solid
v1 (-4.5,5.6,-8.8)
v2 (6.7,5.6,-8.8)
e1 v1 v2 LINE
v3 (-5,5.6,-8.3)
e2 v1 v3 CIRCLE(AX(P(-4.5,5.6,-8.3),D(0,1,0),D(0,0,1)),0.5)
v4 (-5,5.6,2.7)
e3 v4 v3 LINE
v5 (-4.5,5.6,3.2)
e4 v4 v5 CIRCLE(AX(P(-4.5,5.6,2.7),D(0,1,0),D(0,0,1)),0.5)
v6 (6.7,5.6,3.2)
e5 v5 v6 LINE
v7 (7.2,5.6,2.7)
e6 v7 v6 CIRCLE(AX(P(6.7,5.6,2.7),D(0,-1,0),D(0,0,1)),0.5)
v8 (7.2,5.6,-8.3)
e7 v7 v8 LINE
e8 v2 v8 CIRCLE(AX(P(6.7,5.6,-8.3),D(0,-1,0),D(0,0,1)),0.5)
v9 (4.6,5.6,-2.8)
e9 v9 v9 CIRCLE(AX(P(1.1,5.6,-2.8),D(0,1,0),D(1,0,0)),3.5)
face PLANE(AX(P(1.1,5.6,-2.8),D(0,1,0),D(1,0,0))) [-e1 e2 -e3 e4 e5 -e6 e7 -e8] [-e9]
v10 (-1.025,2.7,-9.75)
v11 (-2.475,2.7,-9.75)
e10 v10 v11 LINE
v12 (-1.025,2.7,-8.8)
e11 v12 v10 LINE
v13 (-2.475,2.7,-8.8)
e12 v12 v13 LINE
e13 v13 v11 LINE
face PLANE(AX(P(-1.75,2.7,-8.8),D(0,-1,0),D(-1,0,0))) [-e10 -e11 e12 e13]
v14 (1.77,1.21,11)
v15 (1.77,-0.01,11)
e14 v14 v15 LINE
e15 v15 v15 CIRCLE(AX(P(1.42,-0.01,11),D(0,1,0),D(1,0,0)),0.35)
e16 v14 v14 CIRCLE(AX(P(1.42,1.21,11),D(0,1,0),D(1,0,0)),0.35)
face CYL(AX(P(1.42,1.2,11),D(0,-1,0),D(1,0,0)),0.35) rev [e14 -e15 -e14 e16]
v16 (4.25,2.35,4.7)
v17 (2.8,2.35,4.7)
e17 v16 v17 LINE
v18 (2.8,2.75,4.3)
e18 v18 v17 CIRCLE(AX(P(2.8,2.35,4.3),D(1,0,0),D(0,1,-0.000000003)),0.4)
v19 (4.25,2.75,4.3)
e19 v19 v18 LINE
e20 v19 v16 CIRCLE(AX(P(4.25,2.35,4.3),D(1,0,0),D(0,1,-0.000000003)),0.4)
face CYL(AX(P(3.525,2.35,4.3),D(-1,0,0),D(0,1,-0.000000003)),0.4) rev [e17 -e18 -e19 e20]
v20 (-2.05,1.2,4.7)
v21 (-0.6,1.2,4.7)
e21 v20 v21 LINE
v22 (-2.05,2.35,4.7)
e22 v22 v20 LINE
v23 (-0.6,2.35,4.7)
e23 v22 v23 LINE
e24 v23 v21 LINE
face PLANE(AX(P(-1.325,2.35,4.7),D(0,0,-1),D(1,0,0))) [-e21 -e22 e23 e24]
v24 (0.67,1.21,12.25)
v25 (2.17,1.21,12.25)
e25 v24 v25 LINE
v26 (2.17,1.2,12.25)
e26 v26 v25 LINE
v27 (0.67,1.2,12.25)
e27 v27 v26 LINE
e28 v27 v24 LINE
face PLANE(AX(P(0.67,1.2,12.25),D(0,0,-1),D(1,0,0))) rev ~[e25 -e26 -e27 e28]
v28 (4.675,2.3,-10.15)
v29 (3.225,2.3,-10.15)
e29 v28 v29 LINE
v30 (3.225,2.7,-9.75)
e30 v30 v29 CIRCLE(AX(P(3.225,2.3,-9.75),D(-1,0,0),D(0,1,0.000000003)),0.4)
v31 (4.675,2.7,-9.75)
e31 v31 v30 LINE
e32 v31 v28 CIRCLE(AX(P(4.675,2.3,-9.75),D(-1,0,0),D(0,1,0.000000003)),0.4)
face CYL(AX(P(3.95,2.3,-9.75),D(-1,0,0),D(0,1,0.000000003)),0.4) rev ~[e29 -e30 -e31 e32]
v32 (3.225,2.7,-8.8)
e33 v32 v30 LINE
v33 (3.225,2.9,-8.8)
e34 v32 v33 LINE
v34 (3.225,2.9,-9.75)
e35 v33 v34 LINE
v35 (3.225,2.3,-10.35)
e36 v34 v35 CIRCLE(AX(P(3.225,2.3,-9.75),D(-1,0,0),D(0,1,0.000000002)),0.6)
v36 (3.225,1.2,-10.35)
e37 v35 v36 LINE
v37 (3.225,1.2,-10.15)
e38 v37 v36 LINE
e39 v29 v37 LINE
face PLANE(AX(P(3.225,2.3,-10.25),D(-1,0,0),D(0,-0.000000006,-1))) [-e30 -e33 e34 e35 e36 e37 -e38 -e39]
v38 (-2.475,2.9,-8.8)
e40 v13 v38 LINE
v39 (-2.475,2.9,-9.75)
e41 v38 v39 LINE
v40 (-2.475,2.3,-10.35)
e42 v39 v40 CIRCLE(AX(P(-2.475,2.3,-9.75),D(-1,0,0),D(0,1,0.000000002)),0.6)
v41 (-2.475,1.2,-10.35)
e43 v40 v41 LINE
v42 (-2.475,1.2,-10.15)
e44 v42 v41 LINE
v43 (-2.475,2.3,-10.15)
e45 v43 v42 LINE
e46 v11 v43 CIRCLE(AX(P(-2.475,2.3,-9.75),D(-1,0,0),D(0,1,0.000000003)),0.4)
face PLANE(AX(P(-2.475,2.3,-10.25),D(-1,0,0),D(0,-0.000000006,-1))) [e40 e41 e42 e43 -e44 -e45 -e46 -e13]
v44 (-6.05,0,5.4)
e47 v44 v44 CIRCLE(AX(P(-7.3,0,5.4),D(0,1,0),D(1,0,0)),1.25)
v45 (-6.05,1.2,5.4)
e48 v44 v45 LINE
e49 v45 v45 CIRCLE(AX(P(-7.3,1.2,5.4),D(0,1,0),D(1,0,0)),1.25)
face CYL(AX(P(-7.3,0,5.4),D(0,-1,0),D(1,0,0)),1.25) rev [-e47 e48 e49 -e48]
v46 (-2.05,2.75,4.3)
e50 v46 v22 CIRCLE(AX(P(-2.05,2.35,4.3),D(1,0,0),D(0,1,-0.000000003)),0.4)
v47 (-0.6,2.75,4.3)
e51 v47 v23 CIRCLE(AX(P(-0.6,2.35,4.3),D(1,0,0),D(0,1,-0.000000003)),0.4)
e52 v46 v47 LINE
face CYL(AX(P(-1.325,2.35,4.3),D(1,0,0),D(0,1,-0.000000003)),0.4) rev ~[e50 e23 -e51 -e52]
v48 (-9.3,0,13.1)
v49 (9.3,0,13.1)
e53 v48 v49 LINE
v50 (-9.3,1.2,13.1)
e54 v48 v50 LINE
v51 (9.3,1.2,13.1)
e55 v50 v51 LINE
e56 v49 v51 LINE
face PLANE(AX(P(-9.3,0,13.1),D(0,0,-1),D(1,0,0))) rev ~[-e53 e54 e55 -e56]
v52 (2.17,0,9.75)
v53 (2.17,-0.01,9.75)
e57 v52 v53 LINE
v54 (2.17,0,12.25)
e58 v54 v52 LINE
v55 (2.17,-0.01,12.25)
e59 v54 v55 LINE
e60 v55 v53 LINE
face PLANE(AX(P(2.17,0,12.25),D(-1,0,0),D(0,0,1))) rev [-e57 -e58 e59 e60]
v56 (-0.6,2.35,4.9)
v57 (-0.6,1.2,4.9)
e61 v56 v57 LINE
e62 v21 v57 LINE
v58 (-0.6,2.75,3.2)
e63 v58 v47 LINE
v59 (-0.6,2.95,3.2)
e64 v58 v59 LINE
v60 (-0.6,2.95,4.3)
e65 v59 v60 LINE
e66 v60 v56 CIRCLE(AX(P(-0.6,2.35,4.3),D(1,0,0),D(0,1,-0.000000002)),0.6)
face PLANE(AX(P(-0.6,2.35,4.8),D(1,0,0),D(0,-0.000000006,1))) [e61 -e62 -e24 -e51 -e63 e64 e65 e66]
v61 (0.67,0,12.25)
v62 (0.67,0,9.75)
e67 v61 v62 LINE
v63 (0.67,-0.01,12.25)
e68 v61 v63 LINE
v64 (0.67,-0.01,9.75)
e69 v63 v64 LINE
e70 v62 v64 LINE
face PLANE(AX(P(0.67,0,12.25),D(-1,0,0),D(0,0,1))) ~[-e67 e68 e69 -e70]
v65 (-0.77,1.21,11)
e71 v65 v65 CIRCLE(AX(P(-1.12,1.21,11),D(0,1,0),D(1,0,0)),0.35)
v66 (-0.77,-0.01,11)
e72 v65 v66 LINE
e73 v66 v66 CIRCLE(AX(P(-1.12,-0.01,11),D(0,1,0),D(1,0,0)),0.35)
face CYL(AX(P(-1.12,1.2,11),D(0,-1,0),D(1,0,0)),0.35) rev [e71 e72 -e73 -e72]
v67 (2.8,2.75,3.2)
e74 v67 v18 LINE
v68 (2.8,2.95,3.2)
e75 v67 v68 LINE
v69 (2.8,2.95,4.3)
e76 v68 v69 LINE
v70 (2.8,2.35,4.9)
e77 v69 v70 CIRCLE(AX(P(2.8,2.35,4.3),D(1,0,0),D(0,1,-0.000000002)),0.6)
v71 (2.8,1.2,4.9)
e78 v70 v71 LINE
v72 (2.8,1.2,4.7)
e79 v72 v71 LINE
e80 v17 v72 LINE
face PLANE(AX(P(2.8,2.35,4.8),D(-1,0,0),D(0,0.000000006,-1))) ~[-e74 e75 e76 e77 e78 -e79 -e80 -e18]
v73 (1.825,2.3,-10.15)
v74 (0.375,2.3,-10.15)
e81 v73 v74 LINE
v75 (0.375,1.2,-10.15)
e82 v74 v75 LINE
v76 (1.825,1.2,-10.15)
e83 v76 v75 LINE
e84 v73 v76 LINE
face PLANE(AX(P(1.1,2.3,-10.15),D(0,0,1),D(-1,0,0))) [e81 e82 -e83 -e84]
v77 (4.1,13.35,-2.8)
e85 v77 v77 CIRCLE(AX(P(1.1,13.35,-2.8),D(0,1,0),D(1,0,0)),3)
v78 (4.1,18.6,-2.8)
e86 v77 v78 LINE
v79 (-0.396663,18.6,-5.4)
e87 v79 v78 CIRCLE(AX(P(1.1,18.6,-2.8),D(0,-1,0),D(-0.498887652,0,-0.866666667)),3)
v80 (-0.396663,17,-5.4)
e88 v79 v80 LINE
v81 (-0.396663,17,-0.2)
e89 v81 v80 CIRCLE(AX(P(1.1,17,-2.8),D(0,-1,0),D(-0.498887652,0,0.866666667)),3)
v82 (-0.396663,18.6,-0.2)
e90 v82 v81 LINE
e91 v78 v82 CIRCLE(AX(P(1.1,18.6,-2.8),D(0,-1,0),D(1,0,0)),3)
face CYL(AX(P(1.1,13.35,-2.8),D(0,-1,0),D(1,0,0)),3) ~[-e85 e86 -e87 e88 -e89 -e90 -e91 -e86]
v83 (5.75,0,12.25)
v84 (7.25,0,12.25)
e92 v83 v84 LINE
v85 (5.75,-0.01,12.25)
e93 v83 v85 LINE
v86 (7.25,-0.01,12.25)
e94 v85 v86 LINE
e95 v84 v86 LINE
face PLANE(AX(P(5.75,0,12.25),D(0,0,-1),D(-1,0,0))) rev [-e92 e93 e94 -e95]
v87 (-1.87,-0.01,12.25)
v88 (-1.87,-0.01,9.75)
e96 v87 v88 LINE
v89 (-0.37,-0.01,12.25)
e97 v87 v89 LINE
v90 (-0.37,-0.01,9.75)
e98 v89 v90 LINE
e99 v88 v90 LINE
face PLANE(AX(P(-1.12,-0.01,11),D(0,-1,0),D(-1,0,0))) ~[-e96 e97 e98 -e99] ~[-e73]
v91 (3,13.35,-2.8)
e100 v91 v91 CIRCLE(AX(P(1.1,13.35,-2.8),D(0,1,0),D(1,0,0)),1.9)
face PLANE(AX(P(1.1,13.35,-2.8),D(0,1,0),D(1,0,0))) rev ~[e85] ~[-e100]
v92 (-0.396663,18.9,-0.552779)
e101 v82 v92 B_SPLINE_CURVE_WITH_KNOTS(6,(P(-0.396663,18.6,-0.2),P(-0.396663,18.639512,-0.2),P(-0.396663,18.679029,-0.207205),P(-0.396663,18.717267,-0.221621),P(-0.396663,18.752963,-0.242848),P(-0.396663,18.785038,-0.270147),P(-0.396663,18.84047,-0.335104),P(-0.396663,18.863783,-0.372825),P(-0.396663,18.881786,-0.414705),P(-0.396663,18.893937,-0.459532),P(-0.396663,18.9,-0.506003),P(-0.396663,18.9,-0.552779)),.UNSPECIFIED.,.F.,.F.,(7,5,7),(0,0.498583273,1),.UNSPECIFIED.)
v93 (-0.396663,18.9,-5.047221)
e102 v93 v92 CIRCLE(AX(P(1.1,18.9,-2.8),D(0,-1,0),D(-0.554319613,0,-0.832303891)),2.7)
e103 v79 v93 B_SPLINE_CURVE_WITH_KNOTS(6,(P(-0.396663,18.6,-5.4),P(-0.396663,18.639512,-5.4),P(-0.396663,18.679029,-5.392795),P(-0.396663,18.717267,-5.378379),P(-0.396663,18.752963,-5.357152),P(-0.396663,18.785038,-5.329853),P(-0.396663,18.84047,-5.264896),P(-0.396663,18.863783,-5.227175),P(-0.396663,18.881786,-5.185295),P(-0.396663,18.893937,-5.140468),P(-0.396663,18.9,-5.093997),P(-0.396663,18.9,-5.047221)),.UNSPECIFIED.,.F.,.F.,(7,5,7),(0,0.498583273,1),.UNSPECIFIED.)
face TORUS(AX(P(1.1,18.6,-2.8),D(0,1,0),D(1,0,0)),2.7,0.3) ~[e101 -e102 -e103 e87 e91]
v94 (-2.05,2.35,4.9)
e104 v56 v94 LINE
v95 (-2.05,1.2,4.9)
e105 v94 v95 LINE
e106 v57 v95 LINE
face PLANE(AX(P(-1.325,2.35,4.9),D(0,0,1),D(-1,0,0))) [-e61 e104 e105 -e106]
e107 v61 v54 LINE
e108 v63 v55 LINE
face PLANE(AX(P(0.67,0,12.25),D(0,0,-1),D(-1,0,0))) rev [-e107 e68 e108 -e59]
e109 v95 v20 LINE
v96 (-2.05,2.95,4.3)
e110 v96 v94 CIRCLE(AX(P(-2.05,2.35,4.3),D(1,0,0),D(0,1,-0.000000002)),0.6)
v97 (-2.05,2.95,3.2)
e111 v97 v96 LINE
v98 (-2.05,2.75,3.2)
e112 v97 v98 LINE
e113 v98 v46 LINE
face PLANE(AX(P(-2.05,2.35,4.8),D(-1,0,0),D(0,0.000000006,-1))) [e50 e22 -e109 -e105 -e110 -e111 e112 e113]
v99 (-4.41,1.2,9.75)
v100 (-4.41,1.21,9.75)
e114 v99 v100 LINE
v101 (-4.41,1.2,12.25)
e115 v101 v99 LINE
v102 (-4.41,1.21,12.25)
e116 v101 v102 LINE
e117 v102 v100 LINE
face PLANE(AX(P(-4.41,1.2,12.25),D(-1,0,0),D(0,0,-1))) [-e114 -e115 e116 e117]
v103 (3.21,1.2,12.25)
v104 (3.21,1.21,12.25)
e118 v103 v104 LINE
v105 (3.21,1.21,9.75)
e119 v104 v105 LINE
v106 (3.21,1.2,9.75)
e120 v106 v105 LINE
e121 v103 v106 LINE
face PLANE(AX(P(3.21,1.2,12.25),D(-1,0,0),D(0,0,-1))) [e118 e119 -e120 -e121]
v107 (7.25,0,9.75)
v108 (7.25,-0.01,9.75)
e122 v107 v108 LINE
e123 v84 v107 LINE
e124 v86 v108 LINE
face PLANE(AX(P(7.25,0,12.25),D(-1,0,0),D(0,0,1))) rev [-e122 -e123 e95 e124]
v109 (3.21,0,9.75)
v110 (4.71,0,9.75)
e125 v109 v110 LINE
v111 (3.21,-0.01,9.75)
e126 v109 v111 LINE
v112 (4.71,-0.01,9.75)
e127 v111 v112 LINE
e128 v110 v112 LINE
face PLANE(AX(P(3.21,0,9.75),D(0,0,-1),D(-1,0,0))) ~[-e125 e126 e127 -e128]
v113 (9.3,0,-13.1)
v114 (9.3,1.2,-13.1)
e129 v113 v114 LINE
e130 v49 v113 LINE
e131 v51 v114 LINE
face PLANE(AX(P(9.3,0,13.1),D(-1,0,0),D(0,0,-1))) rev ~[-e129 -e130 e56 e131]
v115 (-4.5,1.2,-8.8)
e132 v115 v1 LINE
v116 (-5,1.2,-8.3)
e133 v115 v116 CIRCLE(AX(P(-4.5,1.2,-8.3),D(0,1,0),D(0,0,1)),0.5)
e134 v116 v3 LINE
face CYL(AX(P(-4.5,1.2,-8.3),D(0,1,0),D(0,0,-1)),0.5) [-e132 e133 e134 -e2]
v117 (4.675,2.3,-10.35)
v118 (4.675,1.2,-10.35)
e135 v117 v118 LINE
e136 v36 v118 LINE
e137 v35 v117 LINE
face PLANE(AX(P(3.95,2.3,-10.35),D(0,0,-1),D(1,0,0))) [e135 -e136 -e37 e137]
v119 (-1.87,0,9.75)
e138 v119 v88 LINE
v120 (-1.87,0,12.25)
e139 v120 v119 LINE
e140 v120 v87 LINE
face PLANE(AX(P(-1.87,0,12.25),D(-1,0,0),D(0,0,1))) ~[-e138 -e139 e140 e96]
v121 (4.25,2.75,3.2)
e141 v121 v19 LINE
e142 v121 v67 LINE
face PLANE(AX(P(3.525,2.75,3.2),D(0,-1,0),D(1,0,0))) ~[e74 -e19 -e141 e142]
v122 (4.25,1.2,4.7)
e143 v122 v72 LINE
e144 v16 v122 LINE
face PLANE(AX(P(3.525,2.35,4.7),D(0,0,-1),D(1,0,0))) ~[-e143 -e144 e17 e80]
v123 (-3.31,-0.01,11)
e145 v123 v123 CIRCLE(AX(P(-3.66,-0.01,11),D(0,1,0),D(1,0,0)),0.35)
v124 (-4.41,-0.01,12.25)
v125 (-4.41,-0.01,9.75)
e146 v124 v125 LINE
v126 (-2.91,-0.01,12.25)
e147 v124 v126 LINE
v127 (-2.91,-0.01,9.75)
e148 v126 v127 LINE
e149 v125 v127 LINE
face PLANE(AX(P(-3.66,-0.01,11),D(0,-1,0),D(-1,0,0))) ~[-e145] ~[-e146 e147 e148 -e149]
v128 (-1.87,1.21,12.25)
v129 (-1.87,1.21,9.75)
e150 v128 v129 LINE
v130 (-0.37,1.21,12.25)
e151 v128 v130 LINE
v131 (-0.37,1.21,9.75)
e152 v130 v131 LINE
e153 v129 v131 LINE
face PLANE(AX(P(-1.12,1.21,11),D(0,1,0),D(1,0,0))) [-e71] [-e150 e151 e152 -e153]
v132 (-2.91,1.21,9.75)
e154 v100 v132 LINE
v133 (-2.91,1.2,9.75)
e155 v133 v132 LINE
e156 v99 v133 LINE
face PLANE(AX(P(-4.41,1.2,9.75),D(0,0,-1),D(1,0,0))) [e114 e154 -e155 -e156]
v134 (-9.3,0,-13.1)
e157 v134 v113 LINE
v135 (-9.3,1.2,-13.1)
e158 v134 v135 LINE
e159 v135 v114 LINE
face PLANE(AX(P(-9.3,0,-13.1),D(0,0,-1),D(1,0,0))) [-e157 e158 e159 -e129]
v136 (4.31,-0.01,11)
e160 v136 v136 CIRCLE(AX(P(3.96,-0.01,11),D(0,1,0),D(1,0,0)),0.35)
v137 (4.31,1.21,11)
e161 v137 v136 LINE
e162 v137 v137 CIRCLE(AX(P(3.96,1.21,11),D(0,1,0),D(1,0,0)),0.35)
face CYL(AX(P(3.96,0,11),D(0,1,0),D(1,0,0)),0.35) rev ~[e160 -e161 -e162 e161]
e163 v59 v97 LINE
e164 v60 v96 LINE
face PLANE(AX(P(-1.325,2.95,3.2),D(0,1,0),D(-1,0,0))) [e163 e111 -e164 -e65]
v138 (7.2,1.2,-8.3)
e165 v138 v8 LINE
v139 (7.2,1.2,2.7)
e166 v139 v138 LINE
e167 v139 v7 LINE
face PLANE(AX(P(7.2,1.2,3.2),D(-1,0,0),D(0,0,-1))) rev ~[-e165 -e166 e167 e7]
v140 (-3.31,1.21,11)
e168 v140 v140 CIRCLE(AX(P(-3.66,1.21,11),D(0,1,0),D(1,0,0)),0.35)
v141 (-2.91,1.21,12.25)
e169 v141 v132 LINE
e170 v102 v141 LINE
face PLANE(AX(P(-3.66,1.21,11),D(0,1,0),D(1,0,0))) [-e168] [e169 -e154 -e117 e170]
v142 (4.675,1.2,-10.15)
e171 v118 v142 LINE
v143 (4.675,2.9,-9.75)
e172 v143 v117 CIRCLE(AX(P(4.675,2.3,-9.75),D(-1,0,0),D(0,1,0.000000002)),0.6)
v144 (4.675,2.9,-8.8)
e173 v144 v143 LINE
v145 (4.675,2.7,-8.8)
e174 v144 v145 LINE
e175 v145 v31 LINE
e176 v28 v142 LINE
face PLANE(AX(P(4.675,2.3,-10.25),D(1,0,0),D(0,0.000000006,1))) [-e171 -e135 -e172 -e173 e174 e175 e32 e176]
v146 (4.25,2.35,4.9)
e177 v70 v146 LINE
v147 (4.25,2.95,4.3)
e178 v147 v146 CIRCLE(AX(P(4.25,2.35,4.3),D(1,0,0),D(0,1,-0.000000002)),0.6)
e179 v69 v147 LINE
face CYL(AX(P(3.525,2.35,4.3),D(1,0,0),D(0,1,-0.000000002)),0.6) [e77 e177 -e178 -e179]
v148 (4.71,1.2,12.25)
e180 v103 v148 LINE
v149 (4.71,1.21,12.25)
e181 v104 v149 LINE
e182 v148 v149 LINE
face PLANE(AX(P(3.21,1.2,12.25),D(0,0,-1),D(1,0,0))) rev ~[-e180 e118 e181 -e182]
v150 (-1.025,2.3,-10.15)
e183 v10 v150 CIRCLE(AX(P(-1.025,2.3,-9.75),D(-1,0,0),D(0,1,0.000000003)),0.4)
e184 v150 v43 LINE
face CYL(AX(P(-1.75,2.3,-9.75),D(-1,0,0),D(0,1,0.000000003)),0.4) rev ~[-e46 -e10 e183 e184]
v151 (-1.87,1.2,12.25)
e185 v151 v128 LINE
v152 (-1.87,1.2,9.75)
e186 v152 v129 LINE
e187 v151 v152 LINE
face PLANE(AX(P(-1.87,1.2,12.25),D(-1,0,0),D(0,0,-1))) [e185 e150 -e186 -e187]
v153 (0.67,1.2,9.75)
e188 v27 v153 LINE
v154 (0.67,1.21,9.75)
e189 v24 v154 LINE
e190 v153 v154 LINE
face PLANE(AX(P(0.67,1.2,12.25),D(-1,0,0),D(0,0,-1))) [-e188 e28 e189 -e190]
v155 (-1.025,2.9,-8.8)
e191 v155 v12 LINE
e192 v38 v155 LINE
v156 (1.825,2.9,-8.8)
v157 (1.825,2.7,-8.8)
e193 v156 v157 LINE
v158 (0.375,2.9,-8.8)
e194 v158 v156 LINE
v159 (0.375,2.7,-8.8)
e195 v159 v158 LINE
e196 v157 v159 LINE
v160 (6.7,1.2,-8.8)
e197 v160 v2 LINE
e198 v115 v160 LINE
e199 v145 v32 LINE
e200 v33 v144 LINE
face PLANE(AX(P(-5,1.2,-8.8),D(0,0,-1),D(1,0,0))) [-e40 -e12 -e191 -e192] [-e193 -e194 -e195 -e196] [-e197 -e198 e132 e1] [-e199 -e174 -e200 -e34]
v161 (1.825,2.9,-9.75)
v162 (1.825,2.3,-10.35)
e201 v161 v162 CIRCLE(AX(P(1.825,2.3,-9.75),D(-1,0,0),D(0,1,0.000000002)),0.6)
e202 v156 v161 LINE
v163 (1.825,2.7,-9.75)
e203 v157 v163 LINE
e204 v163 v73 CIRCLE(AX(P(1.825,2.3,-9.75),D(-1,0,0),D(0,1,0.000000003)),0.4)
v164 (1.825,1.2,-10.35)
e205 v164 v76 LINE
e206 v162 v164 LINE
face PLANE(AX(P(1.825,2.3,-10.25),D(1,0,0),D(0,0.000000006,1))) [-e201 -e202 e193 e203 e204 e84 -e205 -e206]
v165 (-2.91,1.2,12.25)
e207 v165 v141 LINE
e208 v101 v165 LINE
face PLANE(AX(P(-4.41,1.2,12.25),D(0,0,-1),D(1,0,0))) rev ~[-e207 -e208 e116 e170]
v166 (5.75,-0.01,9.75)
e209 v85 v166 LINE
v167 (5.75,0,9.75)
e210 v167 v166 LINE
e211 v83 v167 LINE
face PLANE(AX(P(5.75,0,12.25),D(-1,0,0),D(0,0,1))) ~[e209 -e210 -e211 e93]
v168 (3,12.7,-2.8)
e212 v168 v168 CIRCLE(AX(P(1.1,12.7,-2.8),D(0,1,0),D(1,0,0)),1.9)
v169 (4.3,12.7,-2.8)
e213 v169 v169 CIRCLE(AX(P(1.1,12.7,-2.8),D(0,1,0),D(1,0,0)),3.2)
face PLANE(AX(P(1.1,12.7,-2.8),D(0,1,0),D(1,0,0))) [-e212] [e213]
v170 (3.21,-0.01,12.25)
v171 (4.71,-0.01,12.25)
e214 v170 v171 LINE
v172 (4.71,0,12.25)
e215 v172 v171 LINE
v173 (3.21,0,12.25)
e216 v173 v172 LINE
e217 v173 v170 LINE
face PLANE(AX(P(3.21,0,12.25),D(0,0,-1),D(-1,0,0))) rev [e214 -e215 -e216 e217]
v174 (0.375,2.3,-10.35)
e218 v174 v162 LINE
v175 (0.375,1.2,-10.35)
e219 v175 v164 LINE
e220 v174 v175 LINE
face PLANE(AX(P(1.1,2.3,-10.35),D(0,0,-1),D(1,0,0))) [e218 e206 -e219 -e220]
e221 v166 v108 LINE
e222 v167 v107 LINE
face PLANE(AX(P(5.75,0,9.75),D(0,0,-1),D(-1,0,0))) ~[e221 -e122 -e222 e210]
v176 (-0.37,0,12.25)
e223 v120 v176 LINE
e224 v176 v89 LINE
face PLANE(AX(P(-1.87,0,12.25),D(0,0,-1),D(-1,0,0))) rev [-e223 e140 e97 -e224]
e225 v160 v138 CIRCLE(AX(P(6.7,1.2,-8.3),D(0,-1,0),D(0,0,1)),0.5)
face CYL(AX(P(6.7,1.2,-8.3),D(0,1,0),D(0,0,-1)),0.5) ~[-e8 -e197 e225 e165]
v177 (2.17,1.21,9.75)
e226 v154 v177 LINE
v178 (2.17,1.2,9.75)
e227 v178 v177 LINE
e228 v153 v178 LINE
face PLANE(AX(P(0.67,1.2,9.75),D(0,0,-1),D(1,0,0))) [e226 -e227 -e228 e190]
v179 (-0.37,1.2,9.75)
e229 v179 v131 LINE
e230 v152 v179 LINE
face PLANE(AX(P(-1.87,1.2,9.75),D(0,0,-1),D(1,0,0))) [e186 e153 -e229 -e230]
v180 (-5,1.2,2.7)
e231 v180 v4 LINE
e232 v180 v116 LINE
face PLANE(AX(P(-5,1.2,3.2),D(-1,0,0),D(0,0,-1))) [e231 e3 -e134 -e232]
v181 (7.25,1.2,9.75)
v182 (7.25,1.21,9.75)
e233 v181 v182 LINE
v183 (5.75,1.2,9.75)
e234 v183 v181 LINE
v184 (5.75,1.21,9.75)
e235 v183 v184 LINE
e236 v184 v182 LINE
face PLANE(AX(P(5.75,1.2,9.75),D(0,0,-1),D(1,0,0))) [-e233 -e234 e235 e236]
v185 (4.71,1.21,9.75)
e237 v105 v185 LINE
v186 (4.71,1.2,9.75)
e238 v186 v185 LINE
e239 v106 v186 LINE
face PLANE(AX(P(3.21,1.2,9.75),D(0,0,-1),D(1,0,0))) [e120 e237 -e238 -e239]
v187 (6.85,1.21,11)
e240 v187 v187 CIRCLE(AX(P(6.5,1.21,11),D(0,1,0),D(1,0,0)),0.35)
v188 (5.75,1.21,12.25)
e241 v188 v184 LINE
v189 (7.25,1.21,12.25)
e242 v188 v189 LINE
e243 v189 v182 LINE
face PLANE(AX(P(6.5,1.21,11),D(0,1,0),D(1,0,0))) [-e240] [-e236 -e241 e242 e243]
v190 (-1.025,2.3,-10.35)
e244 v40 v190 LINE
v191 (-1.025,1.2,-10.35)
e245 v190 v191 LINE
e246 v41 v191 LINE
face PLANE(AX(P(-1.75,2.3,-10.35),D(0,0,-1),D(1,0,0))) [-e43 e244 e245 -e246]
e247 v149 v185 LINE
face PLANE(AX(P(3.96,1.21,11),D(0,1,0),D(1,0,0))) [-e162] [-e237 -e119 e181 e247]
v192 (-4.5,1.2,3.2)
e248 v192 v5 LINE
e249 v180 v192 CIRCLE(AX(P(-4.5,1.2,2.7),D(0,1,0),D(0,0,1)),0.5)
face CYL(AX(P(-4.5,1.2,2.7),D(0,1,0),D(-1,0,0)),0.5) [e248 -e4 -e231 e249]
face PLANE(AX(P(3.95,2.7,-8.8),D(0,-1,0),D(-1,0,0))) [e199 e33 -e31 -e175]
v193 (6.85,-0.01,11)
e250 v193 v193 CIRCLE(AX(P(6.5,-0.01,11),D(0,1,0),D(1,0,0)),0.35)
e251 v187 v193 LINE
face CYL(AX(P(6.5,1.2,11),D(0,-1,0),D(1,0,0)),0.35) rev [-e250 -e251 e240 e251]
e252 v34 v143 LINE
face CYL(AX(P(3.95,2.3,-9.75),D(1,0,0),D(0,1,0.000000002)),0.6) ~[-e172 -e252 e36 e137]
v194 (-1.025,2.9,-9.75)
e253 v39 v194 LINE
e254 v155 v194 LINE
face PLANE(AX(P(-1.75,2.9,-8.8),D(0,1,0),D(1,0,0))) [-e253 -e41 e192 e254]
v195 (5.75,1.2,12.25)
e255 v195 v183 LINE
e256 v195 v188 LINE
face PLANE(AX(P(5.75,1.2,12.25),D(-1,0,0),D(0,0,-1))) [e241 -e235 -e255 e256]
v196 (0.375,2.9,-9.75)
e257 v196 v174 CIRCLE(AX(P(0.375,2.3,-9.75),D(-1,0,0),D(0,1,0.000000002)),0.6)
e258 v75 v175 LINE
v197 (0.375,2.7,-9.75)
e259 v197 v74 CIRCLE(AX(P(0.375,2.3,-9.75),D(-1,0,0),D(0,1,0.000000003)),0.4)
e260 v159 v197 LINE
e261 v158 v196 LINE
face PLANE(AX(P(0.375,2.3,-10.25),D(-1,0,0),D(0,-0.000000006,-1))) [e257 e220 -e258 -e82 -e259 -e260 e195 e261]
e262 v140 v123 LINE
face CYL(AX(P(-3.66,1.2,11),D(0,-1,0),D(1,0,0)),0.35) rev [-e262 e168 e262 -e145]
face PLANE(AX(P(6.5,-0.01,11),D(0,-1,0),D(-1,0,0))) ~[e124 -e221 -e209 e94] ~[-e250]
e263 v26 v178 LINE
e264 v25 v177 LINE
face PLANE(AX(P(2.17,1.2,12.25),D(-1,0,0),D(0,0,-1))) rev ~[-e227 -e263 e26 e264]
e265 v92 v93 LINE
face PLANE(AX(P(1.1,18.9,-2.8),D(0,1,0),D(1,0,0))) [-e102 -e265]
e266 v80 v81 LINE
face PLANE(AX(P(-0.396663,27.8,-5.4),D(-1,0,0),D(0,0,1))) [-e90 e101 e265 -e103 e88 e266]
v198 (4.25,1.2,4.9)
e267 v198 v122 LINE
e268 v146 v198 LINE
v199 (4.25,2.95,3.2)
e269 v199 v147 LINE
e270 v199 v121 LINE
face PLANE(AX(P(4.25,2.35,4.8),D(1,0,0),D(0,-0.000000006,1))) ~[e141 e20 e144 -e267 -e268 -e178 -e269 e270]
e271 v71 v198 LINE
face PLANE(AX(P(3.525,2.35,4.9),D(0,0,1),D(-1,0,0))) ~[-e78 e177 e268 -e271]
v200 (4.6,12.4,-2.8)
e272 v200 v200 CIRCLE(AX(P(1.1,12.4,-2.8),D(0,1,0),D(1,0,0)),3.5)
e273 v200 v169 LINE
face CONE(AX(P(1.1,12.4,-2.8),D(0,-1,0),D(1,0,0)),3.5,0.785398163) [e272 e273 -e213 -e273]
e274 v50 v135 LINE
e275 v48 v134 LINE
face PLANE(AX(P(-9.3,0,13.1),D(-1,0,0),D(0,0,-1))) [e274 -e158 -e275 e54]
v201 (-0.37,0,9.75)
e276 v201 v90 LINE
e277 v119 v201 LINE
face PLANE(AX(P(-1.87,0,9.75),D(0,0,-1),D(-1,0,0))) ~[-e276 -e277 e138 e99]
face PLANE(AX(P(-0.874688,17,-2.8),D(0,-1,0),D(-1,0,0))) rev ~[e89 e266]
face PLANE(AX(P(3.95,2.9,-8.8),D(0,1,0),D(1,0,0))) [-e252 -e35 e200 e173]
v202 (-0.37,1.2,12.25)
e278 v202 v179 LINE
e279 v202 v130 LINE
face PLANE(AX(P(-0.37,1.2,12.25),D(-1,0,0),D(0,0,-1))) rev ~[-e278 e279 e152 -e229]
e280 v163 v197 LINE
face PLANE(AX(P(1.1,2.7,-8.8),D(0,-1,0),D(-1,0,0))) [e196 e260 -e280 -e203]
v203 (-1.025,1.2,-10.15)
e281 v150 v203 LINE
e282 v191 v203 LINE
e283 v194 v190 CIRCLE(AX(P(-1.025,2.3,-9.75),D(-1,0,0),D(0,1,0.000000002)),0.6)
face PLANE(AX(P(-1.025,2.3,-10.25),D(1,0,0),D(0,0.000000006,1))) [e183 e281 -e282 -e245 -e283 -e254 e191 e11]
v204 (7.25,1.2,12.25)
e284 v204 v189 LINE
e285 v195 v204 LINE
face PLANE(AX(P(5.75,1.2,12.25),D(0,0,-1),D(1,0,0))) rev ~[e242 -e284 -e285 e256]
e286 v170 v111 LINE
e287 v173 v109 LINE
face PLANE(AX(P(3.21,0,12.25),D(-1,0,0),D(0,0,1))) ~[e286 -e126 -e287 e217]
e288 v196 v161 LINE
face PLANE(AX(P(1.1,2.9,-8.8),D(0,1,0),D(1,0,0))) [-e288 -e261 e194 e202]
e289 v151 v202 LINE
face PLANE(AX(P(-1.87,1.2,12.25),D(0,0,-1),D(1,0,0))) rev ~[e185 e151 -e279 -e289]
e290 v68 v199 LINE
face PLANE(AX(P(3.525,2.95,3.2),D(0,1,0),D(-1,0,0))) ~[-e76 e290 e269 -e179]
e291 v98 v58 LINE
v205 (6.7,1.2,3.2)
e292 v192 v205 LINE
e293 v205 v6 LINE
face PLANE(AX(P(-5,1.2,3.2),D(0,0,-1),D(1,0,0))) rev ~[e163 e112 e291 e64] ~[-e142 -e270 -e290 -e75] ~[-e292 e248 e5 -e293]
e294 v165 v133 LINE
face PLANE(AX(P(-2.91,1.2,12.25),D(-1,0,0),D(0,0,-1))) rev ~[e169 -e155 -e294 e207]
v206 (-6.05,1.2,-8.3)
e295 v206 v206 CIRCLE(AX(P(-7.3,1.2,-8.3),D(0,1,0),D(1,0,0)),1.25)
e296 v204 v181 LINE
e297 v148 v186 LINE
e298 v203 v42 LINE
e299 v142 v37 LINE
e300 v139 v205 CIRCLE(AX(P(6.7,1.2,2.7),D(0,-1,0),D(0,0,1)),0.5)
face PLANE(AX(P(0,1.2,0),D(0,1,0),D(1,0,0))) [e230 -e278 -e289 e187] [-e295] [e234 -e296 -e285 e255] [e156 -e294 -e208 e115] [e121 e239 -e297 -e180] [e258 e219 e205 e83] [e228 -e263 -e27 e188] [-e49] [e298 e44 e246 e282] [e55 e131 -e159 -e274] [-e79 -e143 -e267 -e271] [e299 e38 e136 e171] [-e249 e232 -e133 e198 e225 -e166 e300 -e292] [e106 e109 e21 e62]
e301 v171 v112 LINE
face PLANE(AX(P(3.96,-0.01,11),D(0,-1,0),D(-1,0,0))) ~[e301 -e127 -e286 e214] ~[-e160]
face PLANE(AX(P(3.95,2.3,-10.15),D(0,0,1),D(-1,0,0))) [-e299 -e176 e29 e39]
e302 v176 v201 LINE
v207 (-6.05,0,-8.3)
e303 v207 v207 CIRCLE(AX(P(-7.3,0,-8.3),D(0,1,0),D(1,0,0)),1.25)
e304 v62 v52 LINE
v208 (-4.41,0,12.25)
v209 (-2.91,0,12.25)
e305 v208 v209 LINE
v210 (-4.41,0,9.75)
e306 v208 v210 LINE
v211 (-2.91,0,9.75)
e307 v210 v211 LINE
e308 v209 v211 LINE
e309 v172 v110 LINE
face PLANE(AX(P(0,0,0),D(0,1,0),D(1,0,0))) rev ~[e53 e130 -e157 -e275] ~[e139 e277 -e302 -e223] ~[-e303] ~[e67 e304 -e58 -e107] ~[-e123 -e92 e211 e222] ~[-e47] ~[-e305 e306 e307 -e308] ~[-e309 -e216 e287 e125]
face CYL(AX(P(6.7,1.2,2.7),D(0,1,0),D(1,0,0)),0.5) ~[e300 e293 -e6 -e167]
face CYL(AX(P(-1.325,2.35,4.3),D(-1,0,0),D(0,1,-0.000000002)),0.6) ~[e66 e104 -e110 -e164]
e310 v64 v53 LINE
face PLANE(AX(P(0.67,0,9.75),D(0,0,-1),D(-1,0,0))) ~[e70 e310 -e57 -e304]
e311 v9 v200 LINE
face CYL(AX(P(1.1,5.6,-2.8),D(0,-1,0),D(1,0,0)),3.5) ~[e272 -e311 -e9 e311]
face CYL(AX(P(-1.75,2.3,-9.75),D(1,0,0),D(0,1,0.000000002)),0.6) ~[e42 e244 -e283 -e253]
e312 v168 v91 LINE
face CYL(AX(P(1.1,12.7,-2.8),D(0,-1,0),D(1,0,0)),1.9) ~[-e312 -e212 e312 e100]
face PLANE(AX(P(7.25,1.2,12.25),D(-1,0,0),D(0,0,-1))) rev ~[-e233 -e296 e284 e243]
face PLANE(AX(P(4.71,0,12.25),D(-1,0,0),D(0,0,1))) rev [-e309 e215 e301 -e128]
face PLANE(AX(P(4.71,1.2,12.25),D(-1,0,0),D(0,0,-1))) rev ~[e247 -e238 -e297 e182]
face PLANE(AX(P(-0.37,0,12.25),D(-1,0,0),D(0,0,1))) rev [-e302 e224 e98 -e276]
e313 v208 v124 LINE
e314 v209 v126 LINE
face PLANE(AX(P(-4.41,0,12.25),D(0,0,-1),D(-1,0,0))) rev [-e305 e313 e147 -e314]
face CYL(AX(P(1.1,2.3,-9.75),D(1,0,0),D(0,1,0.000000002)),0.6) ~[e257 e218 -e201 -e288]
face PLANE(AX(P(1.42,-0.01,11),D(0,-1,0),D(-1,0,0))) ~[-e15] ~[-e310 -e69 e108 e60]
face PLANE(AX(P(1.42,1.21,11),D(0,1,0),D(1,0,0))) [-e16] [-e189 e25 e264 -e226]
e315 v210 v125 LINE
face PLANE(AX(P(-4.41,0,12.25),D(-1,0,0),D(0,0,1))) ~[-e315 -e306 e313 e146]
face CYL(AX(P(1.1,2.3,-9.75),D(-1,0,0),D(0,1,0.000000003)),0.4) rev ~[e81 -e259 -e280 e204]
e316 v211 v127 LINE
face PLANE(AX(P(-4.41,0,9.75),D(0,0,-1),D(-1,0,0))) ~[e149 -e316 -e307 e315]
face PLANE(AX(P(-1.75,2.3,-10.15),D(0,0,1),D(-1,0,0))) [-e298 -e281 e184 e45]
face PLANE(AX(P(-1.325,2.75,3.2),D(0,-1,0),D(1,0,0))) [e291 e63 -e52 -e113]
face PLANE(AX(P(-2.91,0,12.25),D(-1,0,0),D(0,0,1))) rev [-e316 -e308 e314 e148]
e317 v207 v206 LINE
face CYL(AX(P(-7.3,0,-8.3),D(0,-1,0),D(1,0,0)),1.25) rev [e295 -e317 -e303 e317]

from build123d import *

# Parameters (mm, degrees)
SKETCH1_W             = 18.6
SKETCH1_H             = 26.2
SKETCH1_R             = 1.25
BOSS_EXTRUDE1_DEPTH   = 1.2
SKETCH3_W             = 12.2
SKETCH3_H             = 12
BOSS_EXTRUDE2_DEPTH   = 4.4
SKETCH10_W            = 1.45
SKETCH10_H            = 0.2
SKETCH13_W            = 1.45
SKETCH13_H            = 0.2
LPATTERN1_COUNT       = 2
LPATTERN1_PITCH       = 2.85
LPATTERN2_COUNT       = 2
LPATTERN2_PITCH       = 2.85
SKETCH14_R            = 3.5
BOSS_EXTRUDE4_DEPTH   = 7.1
CHAMFER1_SIZE         = 0.3
SKETCH15_R            = 1.9
BOSS_EXTRUDE5_DEPTH   = 0.65
SKETCH16_R            = 3
BOSS_EXTRUDE6_DEPTH   = 14.45
CHAMFER2_SIZE         = 0.6
CUT_EXTRUDE1_DEPTH    = 10.8
SKETCH18_R            = 0.35
CUT_EXTRUDE2_DEPTH    = 1.2
SKETCH19_W            = 1.5
SKETCH19_H            = 2.5
SKETCH19_R            = 0.35
BOSS_EXTRUDE7_DEPTH   = 0.01
FILLET1_R             = 0.5
CROQUIS1_R            = 3.5
CORTAR_EXTRUIR1_DEPTH = 8.9
REDONDEO1_R           = 0.3


with BuildPart() as part:
    # Sketch1 → Boss-Extrude1 (new body)
    with BuildSketch(Plane(origin=(0, 0, 0), x_dir=(1, 0, 0), z_dir=(0, 1, 0))):
        Rectangle(SKETCH1_W, SKETCH1_H)
        with Locations((-7.3, 8.3)):
            Circle(SKETCH1_R, mode=Mode.SUBTRACT)
        with Locations((-7.3, -5.4)):
            Circle(SKETCH1_R, mode=Mode.SUBTRACT)
    extrude(amount=BOSS_EXTRUDE1_DEPTH)

    # Sketch3 → Boss-Extrude2 (add)
    with BuildSketch(Plane(origin=(0, 1.2, 0), x_dir=(1, 0, 0), z_dir=(0, 1, 0))):
        with Locations((1.1, 2.8)):
            Rectangle(SKETCH3_W, SKETCH3_H)
    extrude(amount=BOSS_EXTRUDE2_DEPTH)

    # Sweep3: sweep along a curve in space
    with BuildLine() as sweep3_path:
        Line((-1.325, 2.85, 3.2), (-1.325, 2.85, 4.3))
        ThreePointArc((-1.325, 2.85, 4.3), (-1.325, 2.703553391, 4.653553391), (-1.325, 2.35, 4.8))
        Line((-1.325, 2.35, 4.8), (-1.325, 1.2, 4.8))
    # Sketch10 → Sweep3 (sweep)
    with BuildSketch(Plane.XY.offset(3.2)):
        with Locations((-1.325, 2.85)):
            Rectangle(SKETCH10_W, SKETCH10_H)
    sweep3 = sweep(path=sweep3_path.line)

    # Mirror2: Sweep3 across plane
    add(sweep3.mirror(Plane.ZY.offset(-1.1)))

    # Sweep4: sweep along a curve in space
    with BuildLine() as sweep4_path:
        Line((1.1, 2.8, -8.8), (1.1, 2.8, -9.75))
        ThreePointArc((1.1, 2.8, -9.75), (1.1, 2.653553391, -10.103553391), (1.1, 2.3, -10.25))
        Line((1.1, 2.3, -10.25), (1.1, 1.2, -10.25))
    # Sketch13 → Sweep4 (sweep)
    with BuildSketch(Plane(origin=(0, 0, -8.8), x_dir=(-1, 0, 0), z_dir=(0, 0, -1))):
        with Locations((-1.1, 2.8)):
            Rectangle(SKETCH13_W, SKETCH13_H)
    sweep4 = sweep(path=sweep4_path.line)

    # LPattern1: Sweep4 ×2
    with Locations(*[(-i * LPATTERN1_PITCH, 0, 0) for i in range(1, LPATTERN1_COUNT)]):
        add(sweep4)

    # LPattern2: Sweep4 ×2
    with Locations(*[(i * LPATTERN2_PITCH, 0, 0) for i in range(1, LPATTERN2_COUNT)]):
        add(sweep4)

    # Sketch14 → Boss-Extrude4 (add)
    with BuildSketch(Plane(origin=(0, 5.6, 0), x_dir=(1, 0, 0), z_dir=(0, 1, 0))):
        with Locations((1.1, 2.8)):
            Circle(SKETCH14_R)
    extrude(amount=BOSS_EXTRUDE4_DEPTH)

    # Chamfer1
    chamfer1_edges = [part.edges().sort_by_distance(p)[0] for p in [
        (-2.4, 12.7, -2.8),
    ]]
    chamfer(chamfer1_edges, length=CHAMFER1_SIZE)

    # Sketch15 → Boss-Extrude5 (add)
    with BuildSketch(Plane(origin=(0, 12.7, 0), x_dir=(1, 0, 0), z_dir=(0, 1, 0))):
        with Locations((1.1, 2.8)):
            Circle(SKETCH15_R)
    extrude(amount=BOSS_EXTRUDE5_DEPTH)

    # Sketch16 → Boss-Extrude6 (add)
    with BuildSketch(Plane(origin=(0, 13.35, 0), x_dir=(1, 0, 0), z_dir=(0, 1, 0))):
        with Locations((1.1, 2.8)):
            Circle(SKETCH16_R)
    extrude(amount=BOSS_EXTRUDE6_DEPTH)

    # Chamfer2
    chamfer2_edges = [part.edges().sort_by_distance(p)[0] for p in [
        (-1.9, 27.8, -2.8),
    ]]
    chamfer(chamfer2_edges, length=CHAMFER2_SIZE)

    # Sketch17 → Cut-Extrude1 (cut)
    with BuildSketch(Plane(origin=(0, 27.8, 0), x_dir=(1, 0, 0), z_dir=(0, 1, 0))):
        with BuildLine():
            Line((-0.396662955, 5.4), (-0.396662955, 0.2))
            ThreePointArc((-0.396662955, 0.2), (-1.9, 2.8), (-0.396662955, 5.4))
        make_face()
    extrude(amount=-CUT_EXTRUDE1_DEPTH, mode=Mode.SUBTRACT)

    # Sketch18 → Cut-Extrude2 (cut)
    with BuildSketch(Plane(origin=(0, 1.2, 0), x_dir=(1, 0, 0), z_dir=(0, 1, 0))):
        with Locations((6.5, -11)):
            Circle(SKETCH18_R)
        with Locations((3.96, -11)):
            Circle(SKETCH18_R)
        with Locations((1.42, -11)):
            Circle(SKETCH18_R)
        with Locations((-1.12, -11)):
            Circle(SKETCH18_R)
        with Locations((-3.66, -11)):
            Circle(SKETCH18_R)
    extrude(amount=-CUT_EXTRUDE2_DEPTH, mode=Mode.SUBTRACT)

    # Sketch19 → Boss-Extrude7 (add)
    with BuildSketch(Plane(origin=(0, 1.2, 0), x_dir=(1, 0, 0), z_dir=(0, 1, 0))):
        with Locations((3.96, -11)):
            Rectangle(SKETCH19_W, SKETCH19_H)
        with Locations((3.96, -11)):
            Circle(SKETCH19_R, mode=Mode.SUBTRACT)
        with Locations((6.5, -11)):
            Rectangle(SKETCH19_W, SKETCH19_H)
        with Locations((6.5, -11)):
            Circle(SKETCH19_R, mode=Mode.SUBTRACT)
        with Locations((1.42, -11)):
            Rectangle(SKETCH19_W, SKETCH19_H)
        with Locations((1.42, -11)):
            Circle(SKETCH19_R, mode=Mode.SUBTRACT)
        with Locations((-1.12, -11)):
            Rectangle(SKETCH19_W, SKETCH19_H)
        with Locations((-1.12, -11)):
            Circle(SKETCH19_R, mode=Mode.SUBTRACT)
        with Locations((-3.66, -11)):
            Rectangle(SKETCH19_W, SKETCH19_H)
        with Locations((-3.66, -11)):
            Circle(SKETCH19_R, mode=Mode.SUBTRACT)
    boss_extrude7 = extrude(amount=BOSS_EXTRUDE7_DEPTH)

    # Mirror3: Boss-Extrude7 across plane
    add(boss_extrude7.mirror(Plane.ZX.offset(0.6)))

    # Fillet1
    fillet1_edges = [part.edges().sort_by_distance(p)[0] for p in [
        (7.2, 3.4, 3.2),
        (7.2, 3.4, -8.8),
        (-5, 3.4, -8.8),
        (-5, 3.4, 3.2),
    ]]
    fillet(fillet1_edges, radius=FILLET1_R)

    # Croquis1 → Cortar-Extruir1 (cut)
    with BuildSketch(Plane(origin=(0, 27.8, 0), x_dir=(1, 0, 0), z_dir=(0, 1, 0))):
        with Locations((1.1, 2.8)):
            Circle(CROQUIS1_R)
    extrude(amount=-CORTAR_EXTRUIR1_DEPTH, mode=Mode.SUBTRACT)

    # Redondeo1
    redondeo1_edges = [part.edges().sort_by_distance(p)[0] for p in [
        (2.601667596, 18.9, -5.397112711),
    ]]
    fillet(redondeo1_edges, radius=REDONDEO1_R)


solid = part.part
